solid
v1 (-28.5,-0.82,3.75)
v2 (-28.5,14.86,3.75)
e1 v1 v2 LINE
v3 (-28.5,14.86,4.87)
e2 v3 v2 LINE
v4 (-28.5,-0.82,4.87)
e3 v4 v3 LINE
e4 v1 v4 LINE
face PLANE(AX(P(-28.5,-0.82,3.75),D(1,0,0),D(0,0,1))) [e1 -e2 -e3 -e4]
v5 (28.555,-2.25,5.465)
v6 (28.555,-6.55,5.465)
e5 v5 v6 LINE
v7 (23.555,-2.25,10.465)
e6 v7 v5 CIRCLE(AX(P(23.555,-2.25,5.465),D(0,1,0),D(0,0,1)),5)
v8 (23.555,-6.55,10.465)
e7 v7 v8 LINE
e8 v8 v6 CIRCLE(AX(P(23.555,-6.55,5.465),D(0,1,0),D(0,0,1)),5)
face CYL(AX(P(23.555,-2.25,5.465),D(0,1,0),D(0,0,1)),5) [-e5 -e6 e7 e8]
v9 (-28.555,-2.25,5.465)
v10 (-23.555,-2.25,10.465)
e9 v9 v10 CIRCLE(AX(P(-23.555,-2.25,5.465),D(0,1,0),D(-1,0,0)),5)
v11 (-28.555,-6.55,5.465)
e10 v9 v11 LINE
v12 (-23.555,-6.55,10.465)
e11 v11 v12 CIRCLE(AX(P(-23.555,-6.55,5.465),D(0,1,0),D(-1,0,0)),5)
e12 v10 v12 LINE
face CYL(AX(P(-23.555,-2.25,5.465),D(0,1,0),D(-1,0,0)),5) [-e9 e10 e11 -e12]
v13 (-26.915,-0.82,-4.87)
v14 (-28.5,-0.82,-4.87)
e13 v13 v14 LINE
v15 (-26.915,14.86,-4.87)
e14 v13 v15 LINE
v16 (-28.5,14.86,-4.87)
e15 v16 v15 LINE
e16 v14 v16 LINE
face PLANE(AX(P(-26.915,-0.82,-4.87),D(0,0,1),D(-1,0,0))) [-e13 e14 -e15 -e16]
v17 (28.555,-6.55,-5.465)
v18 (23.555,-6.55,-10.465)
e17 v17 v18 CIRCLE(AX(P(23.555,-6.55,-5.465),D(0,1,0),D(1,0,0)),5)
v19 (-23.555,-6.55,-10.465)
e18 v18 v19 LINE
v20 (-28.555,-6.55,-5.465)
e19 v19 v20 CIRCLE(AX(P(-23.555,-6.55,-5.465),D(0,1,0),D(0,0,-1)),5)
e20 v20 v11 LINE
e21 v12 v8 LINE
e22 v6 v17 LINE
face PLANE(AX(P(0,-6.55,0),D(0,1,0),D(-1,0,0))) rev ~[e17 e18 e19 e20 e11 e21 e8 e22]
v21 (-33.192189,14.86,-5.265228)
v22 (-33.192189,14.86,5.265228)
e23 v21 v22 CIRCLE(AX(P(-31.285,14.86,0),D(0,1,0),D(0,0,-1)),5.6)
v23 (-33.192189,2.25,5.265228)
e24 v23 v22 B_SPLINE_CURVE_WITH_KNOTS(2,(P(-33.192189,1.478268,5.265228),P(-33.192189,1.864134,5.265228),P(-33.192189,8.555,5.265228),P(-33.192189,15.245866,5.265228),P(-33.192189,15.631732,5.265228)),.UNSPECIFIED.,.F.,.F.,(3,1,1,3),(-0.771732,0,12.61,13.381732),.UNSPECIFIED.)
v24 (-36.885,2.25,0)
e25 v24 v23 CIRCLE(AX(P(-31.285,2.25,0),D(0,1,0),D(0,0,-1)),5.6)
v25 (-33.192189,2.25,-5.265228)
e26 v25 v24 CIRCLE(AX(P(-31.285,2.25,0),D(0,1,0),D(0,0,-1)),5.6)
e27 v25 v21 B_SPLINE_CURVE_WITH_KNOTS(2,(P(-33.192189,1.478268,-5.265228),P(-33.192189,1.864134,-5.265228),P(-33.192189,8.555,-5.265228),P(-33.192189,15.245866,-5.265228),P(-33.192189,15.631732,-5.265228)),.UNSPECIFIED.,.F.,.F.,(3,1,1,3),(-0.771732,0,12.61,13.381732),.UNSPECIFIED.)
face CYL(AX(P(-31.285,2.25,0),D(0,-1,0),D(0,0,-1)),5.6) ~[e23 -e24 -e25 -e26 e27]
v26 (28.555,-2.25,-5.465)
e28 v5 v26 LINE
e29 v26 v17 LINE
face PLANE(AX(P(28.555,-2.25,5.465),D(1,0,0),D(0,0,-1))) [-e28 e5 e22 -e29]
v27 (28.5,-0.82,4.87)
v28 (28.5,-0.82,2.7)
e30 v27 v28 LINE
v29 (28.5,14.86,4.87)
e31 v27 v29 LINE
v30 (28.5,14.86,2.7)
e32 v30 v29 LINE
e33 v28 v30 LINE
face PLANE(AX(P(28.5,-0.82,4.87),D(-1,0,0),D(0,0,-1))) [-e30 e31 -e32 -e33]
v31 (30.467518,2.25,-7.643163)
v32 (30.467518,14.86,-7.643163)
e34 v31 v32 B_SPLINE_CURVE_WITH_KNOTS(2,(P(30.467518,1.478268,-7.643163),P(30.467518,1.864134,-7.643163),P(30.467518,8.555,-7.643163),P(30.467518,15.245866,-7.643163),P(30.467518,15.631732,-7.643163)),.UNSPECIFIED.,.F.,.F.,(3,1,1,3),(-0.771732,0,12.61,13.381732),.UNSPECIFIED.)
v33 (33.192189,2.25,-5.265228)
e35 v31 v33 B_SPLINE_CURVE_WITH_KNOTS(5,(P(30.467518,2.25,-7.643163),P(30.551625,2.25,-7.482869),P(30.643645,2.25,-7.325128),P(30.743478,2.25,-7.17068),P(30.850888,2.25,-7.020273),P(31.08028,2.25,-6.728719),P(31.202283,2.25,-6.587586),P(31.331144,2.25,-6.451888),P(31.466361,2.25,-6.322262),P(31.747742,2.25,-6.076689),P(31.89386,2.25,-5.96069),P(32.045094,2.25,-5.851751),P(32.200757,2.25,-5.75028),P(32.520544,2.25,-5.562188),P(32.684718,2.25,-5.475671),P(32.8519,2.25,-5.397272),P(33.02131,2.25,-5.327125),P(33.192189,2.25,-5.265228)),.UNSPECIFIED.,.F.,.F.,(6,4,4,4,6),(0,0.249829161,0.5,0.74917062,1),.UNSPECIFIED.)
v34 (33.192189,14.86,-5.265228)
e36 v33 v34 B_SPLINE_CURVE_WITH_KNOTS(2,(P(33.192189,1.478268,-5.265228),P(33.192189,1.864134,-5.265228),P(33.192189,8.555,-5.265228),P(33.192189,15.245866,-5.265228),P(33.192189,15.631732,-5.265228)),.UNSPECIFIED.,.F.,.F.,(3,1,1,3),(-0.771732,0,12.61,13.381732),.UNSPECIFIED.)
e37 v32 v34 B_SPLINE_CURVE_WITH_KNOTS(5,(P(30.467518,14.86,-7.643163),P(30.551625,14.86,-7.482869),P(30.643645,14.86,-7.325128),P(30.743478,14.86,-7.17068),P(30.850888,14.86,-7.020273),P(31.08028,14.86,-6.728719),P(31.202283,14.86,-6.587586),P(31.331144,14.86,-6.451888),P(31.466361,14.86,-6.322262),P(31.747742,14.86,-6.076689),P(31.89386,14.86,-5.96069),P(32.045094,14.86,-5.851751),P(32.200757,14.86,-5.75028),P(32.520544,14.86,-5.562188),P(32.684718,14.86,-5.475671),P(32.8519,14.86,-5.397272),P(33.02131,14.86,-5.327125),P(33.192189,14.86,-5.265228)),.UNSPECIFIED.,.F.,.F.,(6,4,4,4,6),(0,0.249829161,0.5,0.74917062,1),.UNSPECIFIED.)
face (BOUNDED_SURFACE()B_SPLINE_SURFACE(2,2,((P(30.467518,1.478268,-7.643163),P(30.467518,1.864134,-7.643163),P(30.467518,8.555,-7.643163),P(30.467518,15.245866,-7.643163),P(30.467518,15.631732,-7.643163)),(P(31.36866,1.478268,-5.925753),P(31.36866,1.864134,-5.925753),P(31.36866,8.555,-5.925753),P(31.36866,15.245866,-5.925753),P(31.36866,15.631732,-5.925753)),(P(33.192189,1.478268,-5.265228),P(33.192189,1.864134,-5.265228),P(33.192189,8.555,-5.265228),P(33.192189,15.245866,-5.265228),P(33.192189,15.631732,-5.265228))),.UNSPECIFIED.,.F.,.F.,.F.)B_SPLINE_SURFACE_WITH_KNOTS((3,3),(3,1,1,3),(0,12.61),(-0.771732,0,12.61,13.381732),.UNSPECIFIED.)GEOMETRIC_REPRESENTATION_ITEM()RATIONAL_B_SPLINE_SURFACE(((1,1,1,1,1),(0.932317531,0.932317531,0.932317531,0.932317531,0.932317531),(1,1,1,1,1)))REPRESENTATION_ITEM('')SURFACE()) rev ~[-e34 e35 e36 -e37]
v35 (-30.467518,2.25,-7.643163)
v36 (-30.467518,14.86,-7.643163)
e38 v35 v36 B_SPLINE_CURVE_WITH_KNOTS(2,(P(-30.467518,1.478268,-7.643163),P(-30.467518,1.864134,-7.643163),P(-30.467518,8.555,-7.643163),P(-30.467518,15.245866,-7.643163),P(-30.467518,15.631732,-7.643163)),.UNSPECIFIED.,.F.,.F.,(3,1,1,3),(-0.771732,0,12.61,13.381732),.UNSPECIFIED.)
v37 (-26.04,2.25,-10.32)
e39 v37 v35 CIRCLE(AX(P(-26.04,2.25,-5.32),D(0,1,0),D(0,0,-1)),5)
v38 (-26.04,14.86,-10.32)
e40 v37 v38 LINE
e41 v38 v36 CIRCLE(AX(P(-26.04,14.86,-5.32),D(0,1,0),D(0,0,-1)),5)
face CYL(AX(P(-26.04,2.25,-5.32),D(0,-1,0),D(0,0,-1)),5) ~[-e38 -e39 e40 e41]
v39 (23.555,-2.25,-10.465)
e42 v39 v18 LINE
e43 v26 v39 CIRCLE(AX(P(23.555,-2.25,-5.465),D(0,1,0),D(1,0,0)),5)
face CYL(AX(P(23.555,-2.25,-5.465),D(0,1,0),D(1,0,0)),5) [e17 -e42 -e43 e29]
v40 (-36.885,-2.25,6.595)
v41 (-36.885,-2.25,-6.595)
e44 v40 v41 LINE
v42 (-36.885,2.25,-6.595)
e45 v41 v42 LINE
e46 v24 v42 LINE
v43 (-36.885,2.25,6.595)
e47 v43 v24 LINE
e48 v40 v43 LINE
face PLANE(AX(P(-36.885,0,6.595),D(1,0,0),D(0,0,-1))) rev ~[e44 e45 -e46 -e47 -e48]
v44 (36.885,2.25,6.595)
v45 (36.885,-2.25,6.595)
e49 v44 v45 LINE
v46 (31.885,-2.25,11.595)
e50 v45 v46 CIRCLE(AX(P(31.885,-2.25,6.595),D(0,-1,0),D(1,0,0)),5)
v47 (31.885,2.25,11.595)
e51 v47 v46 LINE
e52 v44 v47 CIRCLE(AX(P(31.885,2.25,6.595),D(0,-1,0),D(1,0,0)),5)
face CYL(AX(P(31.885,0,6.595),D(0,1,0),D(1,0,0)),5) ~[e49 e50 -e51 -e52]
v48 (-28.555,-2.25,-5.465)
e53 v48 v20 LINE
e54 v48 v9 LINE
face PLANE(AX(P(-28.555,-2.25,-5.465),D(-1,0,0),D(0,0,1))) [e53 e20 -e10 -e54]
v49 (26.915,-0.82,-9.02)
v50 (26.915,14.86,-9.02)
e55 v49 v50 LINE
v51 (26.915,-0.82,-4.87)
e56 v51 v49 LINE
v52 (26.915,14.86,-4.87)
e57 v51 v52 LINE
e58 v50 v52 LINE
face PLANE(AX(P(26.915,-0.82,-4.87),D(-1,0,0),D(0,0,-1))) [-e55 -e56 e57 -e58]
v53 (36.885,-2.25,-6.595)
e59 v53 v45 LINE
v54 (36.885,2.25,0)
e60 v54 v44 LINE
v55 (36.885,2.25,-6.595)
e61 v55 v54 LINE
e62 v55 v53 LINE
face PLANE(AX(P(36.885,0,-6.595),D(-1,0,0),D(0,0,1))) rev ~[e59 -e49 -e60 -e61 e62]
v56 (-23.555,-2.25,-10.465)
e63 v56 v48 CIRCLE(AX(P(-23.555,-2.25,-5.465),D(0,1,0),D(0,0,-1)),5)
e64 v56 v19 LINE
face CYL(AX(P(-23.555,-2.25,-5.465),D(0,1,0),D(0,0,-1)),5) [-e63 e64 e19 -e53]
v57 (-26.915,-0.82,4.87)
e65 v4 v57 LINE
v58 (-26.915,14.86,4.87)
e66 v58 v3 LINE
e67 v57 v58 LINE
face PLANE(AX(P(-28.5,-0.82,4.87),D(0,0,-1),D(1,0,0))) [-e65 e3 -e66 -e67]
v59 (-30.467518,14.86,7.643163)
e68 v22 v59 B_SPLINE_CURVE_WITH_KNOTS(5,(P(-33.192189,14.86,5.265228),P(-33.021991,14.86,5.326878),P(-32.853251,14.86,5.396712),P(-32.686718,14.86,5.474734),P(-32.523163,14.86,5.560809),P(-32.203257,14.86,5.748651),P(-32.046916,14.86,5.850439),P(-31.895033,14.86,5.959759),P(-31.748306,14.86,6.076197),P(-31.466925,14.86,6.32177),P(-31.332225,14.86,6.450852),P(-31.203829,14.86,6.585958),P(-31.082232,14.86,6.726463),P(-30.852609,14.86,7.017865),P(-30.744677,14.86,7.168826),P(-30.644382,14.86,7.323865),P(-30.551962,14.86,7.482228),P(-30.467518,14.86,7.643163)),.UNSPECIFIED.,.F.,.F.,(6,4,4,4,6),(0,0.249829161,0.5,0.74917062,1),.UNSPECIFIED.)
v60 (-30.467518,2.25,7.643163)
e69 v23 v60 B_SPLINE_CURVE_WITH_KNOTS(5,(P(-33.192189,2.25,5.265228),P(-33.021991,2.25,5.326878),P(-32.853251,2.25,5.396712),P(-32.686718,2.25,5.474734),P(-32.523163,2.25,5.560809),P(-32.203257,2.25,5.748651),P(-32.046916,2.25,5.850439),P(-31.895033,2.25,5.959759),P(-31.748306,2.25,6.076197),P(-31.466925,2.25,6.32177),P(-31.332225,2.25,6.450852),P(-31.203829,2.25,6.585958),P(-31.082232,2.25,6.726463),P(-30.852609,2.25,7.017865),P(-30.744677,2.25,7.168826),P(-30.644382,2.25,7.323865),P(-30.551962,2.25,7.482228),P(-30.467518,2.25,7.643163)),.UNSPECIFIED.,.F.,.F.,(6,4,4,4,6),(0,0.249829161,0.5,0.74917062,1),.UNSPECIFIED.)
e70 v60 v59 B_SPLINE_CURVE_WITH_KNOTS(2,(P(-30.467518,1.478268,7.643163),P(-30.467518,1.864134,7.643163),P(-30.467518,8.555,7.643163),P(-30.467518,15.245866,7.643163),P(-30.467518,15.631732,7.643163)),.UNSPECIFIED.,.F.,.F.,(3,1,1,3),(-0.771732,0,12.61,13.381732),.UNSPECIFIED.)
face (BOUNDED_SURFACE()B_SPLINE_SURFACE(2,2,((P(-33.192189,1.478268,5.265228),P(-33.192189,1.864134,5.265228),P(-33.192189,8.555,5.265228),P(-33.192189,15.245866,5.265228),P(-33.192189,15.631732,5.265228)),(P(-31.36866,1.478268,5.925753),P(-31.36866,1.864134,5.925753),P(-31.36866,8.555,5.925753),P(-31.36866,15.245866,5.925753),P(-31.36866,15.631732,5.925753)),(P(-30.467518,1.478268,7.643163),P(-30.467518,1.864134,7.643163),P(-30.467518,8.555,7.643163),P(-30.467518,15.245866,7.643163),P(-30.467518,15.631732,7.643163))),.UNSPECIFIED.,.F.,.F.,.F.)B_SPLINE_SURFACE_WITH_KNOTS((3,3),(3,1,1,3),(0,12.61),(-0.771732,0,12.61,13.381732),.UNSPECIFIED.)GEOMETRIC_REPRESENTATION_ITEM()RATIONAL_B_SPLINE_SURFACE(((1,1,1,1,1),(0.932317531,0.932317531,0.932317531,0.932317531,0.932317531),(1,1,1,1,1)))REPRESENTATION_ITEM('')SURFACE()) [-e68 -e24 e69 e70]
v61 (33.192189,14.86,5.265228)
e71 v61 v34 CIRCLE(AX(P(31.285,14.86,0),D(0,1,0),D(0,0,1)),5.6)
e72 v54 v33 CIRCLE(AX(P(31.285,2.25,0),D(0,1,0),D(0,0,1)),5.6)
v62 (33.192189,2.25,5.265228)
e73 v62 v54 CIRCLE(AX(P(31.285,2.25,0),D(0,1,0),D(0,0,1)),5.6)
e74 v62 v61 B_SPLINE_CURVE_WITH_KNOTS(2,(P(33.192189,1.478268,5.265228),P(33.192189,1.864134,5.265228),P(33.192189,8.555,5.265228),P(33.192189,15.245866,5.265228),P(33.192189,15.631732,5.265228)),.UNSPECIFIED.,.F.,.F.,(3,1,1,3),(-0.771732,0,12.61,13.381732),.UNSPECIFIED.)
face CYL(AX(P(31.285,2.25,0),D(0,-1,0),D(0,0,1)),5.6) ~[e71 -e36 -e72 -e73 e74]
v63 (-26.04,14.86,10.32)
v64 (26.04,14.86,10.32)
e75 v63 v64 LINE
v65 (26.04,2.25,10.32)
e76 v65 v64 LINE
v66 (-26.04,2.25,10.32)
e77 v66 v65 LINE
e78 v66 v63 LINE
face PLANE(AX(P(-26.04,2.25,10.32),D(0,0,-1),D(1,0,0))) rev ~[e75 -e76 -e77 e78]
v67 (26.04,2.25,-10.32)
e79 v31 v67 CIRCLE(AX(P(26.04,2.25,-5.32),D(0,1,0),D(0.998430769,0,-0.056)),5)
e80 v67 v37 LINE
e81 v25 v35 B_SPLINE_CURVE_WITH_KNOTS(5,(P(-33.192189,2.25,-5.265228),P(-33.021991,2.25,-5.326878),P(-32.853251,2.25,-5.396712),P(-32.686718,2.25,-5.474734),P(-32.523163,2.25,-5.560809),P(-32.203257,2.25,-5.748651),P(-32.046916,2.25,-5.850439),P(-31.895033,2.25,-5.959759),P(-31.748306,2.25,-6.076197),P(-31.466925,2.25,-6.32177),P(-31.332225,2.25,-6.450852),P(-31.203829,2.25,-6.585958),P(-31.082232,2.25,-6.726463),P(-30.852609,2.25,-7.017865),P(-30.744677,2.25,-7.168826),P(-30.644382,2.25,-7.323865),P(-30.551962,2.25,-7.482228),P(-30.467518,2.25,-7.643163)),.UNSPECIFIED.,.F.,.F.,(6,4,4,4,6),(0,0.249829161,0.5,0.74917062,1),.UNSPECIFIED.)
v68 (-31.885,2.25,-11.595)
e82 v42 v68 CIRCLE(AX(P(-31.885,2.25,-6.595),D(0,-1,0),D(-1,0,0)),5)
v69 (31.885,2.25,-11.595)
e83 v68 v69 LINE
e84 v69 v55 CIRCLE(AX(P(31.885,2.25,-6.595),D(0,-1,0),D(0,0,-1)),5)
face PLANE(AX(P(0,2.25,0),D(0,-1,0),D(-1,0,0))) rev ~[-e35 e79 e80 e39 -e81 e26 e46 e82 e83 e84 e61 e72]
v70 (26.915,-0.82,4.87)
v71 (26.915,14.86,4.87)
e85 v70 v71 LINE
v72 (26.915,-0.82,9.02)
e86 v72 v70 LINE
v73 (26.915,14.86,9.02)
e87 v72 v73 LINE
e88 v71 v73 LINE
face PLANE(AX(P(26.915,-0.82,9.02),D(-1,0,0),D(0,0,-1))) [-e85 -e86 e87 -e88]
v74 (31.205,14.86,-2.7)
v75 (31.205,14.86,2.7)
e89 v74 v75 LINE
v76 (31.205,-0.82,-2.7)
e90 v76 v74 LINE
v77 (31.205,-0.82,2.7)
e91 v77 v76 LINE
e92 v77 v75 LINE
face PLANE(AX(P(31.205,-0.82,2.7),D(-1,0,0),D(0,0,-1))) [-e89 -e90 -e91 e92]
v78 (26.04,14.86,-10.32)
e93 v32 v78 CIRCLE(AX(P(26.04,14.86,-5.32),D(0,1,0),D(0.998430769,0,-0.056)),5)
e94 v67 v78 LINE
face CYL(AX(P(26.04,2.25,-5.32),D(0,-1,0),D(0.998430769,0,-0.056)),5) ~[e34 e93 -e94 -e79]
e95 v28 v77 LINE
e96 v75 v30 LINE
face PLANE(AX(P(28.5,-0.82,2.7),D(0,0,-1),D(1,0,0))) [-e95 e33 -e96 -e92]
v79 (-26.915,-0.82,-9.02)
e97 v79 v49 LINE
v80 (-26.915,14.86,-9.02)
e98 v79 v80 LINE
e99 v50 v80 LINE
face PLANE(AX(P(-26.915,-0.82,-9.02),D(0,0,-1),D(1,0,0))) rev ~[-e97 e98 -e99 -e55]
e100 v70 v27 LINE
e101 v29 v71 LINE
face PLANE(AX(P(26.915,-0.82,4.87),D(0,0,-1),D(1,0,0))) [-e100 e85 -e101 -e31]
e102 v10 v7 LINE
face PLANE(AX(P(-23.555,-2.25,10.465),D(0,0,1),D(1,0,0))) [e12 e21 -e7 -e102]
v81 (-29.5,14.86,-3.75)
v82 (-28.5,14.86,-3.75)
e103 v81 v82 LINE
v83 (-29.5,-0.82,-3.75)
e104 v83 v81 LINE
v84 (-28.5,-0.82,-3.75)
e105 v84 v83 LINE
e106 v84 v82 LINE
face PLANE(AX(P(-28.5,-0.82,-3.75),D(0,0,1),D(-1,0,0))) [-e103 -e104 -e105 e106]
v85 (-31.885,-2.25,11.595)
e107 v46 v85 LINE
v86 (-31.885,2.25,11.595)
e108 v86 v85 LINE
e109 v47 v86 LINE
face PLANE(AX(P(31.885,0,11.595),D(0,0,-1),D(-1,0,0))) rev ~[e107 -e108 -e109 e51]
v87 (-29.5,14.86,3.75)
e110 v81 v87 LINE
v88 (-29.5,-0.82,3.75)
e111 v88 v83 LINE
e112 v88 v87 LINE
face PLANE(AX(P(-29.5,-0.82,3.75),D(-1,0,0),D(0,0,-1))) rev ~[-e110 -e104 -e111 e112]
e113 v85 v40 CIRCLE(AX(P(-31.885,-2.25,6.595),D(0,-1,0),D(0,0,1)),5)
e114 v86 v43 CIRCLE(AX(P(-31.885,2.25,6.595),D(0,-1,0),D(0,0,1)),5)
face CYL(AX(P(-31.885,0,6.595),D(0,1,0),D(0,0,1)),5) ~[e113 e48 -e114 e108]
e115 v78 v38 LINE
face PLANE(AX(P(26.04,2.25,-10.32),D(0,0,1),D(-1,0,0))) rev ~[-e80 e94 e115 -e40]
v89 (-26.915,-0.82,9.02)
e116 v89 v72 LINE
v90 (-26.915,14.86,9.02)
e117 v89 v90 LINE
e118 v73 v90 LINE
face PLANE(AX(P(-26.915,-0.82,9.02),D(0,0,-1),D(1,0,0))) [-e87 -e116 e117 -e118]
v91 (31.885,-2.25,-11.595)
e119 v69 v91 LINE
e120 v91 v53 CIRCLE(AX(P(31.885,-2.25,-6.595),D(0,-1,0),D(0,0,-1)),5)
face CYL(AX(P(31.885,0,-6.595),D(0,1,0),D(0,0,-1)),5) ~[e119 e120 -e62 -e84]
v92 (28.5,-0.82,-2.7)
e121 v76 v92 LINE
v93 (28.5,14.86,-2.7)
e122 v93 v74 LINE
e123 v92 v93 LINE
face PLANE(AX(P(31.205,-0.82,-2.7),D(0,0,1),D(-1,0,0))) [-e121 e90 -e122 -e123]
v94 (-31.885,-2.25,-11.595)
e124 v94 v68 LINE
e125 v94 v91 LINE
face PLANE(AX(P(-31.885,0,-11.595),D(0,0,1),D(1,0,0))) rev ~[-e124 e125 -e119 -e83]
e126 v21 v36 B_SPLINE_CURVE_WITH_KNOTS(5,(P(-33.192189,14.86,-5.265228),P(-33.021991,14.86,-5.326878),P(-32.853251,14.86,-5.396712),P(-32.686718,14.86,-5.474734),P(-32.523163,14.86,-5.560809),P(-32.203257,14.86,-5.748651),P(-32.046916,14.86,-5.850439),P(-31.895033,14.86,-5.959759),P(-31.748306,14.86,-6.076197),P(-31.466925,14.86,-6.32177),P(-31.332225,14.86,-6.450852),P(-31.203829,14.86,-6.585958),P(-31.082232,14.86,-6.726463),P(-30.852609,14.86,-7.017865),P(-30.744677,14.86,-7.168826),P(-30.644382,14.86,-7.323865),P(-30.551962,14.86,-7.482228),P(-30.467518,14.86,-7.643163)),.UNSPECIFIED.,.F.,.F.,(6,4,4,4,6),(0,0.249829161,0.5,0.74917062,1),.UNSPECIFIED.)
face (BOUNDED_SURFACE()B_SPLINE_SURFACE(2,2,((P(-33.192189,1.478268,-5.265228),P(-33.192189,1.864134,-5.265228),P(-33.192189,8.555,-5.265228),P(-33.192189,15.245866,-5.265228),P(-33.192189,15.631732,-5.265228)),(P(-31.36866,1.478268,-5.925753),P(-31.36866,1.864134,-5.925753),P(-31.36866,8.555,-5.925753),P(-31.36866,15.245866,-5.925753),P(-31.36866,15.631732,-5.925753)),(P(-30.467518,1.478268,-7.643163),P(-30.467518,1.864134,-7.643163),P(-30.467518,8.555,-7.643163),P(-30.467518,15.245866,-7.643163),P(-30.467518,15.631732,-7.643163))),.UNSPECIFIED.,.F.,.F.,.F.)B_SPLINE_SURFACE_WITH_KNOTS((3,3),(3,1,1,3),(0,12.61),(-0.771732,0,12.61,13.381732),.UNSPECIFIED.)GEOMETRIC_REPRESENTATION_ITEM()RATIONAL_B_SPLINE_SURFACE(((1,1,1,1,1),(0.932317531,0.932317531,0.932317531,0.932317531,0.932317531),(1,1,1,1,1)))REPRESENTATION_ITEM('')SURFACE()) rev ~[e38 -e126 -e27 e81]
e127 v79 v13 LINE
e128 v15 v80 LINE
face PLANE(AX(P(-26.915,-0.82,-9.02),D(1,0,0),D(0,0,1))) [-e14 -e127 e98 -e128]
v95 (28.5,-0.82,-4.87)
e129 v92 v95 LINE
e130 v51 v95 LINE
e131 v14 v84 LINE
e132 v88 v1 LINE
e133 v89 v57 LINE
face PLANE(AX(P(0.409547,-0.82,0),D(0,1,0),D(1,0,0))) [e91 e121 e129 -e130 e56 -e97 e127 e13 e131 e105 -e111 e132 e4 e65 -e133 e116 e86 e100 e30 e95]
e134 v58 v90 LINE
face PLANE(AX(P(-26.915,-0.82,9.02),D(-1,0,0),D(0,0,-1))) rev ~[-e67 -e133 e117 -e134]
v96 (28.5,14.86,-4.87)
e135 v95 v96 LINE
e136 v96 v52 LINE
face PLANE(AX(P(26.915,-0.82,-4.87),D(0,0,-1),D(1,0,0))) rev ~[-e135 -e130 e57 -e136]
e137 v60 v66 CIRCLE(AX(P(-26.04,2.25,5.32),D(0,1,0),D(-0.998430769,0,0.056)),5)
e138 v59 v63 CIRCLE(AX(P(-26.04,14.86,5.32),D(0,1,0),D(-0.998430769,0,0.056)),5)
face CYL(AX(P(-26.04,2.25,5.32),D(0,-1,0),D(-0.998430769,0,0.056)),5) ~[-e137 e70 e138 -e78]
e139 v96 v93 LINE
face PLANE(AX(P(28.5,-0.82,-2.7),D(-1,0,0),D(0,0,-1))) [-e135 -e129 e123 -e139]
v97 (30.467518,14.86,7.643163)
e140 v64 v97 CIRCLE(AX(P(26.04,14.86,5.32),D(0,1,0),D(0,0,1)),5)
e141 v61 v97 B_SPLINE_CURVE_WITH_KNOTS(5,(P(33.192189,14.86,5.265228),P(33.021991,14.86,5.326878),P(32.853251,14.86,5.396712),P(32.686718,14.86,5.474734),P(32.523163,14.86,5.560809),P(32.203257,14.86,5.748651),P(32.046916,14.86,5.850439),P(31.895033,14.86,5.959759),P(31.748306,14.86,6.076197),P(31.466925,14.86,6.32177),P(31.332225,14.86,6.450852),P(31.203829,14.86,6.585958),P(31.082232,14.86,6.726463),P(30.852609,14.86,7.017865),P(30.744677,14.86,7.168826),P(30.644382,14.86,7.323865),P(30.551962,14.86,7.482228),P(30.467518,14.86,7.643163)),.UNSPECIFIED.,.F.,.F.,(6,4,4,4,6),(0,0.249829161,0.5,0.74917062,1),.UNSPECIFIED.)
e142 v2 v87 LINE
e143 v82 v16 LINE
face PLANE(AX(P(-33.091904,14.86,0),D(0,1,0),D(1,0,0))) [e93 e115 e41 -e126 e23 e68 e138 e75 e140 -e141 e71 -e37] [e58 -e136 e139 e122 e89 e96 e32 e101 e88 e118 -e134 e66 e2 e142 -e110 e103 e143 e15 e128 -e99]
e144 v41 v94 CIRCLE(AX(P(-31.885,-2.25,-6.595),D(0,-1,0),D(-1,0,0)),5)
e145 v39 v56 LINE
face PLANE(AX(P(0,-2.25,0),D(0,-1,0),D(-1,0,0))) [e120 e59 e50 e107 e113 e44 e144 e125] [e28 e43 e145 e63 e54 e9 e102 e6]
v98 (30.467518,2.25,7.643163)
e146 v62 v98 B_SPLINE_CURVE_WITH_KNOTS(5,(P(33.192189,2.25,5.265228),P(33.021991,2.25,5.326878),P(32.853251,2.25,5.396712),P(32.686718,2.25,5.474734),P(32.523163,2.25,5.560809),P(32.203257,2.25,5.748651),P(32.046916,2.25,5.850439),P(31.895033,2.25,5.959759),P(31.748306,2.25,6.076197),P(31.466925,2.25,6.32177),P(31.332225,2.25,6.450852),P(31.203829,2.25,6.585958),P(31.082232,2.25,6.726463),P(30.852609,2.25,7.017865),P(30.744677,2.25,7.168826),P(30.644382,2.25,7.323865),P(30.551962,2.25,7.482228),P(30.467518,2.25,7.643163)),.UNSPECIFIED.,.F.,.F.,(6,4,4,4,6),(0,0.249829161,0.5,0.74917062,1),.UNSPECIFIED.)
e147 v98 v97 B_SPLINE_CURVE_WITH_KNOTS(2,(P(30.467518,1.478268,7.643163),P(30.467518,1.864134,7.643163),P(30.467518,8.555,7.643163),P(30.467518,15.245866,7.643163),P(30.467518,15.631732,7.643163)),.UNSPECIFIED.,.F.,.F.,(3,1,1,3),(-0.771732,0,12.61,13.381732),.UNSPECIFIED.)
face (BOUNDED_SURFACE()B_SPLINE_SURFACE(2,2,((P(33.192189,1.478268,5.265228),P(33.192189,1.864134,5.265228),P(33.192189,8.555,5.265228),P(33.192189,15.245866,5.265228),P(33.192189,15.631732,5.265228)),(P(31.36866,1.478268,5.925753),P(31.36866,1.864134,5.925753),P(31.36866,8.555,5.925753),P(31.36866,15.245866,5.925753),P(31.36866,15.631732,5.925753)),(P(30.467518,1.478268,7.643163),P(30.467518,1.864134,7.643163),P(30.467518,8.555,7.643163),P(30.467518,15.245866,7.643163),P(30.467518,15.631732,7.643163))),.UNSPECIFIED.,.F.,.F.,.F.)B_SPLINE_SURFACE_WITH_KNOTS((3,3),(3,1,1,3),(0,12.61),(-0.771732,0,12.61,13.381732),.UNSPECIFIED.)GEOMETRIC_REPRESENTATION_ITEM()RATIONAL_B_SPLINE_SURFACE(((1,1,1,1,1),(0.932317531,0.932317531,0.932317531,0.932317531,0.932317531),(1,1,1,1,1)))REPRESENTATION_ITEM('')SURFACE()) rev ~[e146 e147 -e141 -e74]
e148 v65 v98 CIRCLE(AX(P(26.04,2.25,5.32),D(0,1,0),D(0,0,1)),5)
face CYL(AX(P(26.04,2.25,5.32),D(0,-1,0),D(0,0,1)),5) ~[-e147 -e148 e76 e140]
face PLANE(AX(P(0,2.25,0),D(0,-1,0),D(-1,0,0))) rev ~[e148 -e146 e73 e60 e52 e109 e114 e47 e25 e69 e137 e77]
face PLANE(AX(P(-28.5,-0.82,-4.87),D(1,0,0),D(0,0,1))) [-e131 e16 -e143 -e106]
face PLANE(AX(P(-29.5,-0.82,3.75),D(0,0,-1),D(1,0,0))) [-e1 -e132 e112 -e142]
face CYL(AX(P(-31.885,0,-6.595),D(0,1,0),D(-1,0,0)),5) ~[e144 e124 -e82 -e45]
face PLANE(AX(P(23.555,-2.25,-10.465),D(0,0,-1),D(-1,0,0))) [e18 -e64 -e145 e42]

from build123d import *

# Parameters (mm, degrees)
EXTRUDE_1_DEPTH          = 2.25
EXTRUDE_2_DEPTH          = 12.61
FILLET_1_R               = 5
EXTRUDE_3_DEPTH          = 4.3
CUT_EXTRUDE_1_DEPTH      = 45.196553708
CUT_EXTRUDE_1_DEPTH_BACK = 15.68
SKETCH_4_W               = 53.83
SKETCH_4_H               = 4.15
SKETCH_4_W_2             = 1
SKETCH_4_H_2             = 7.5
SKETCH_4_W_3             = 1.585
SKETCH_4_H_3             = 5.4
SKETCH_4_W_4             = 2.705
SKETCH_4_W_5             = 1.12
SKETCH_4_H_4             = 2.17


with BuildPart() as part:
    # Эскиз1 → Бобышка-Вытянуть1 (new, symmetric)
    with BuildSketch(Plane(origin=(0, 0, 0), x_dir=(1, 0, 0), z_dir=(0, 1, 0))):
        with BuildLine():
            Line((-31.885, 11.595), (31.885, 11.595))
            ThreePointArc((31.885, 11.595), (35.420533906, 10.130533906), (36.885, 6.595))
            Line((36.885, 6.595), (36.885, -6.595))
            ThreePointArc((36.885, -6.595), (35.420533906, -10.130533906), (31.885, -11.595))
            Line((31.885, -11.595), (-31.885, -11.595))
            ThreePointArc((-31.885, -11.595), (-35.420533906, -10.130533906), (-36.885, -6.595))
            Line((-36.885, -6.595), (-36.885, 6.595))
            ThreePointArc((-36.885, 6.595), (-35.420533906, 10.130533906), (-31.885, 11.595))
        make_face()
    extrude(amount=EXTRUDE_1_DEPTH, both=True)

    # Эскиз2 → Бобышка-Вытянуть2 (add)
    with BuildSketch(Plane(origin=(0, 2.25, 0), x_dir=(1, 0, 0), z_dir=(0, 1, 0))):
        with BuildLine():
            ThreePointArc((-31.04, 5.32), (-31.038038076, 5.460054955), (-31.032153844, 5.6))
            Line((-31.032153844, 5.6), (-31.285, 5.6))
            ThreePointArc((-31.285, 5.6), (-36.885, 0), (-31.285, -5.6))
            Line((-31.285, -5.6), (-31.032153844, -5.6))
            ThreePointArc((-31.032153844, -5.6), (-31.038038076, -5.460054955), (-31.04, -5.32))
            Line((-31.04, -5.32), (-31.04, 5.32))
        make_face()
        with BuildLine():
            Line((31.032153844, -5.6), (-31.032153844, -5.6))
            ThreePointArc((-31.032153844, -5.6), (-29.475112807, -8.953180425), (-26.04, -10.32))
            Line((-26.04, -10.32), (26.04, -10.32))
            ThreePointArc((26.04, -10.32), (29.475112807, -8.953180425), (31.032153844, -5.6))
        make_face()
        with BuildLine():
            Line((31.032153844, 5.6), (-31.032153844, 5.6))
            ThreePointArc((-31.032153844, 5.6), (-31.038038076, 5.460054955), (-31.04, 5.32))
            Line((-31.04, 5.32), (-31.04, -5.32))
            ThreePointArc((-31.04, -5.32), (-31.038038076, -5.460054955), (-31.032153844, -5.6))
            Line((-31.032153844, -5.6), (31.032153844, -5.6))
            ThreePointArc((31.032153844, -5.6), (31.038038076, -5.460054955), (31.04, -5.32))
            Line((31.04, -5.32), (31.04, 5.32))
            ThreePointArc((31.04, 5.32), (31.038038076, 5.460054955), (31.032153844, 5.6))
        make_face()
        with BuildLine():
            Line((26.04, 10.32), (-26.04, 10.32))
            ThreePointArc((-26.04, 10.32), (-29.475112807, 8.953180425), (-31.032153844, 5.6))
            Line((-31.032153844, 5.6), (31.032153844, 5.6))
            ThreePointArc((31.032153844, 5.6), (29.475112807, 8.953180425), (26.04, 10.32))
        make_face()
        with BuildLine():
            Line((31.285, 5.6), (31.032153844, 5.6))
            ThreePointArc((31.032153844, 5.6), (31.038038076, 5.460054955), (31.04, 5.32))
            Line((31.04, 5.32), (31.04, -5.32))
            ThreePointArc((31.04, -5.32), (31.038038076, -5.460054955), (31.032153844, -5.6))
            Line((31.032153844, -5.6), (31.285, -5.6))
            ThreePointArc((31.285, -5.6), (36.885, 0), (31.285, 5.6))
        make_face()
    extrude(amount=EXTRUDE_2_DEPTH)

    # Скругление1
    fillet_1_edges = [part.edges().sort_by_distance(p)[0] for p in [
        (-31.032153844, 8.555, 5.6),
        (-31.032153844, 8.555, -5.6),
        (31.032153844, 8.555, -5.6),
        (31.032153844, 8.555, 5.6),
    ]]
    fillet(fillet_1_edges, radius=FILLET_1_R)

    # Эскиз3 → Бобышка-Вытянуть3 (add)
    with BuildSketch(Plane.XZ.offset(2.25)):
        with BuildLine():
            Line((-23.555, 10.465), (23.555, 10.465))
            ThreePointArc((23.555, 10.465), (27.090533906, 9.000533906), (28.555, 5.465))
            Line((28.555, 5.465), (28.555, -5.465))
            ThreePointArc((28.555, -5.465), (27.090533906, -9.000533906), (23.555, -10.465))
            Line((23.555, -10.465), (-23.555, -10.465))
            ThreePointArc((-23.555, -10.465), (-27.090533906, -9.000533906), (-28.555, -5.465))
            Line((-28.555, -5.465), (-28.555, 5.465))
            ThreePointArc((-28.555, 5.465), (-27.090533906, 9.000533906), (-23.555, 10.465))
        make_face()
    extrude(amount=EXTRUDE_3_DEPTH)

    # Эскиз4 → Вырез-Вытянуть1 (cut, two sides: drawn at the far end of the back side and taken through both)
    with BuildSketch(Plane(origin=(0, 14.86, 0), x_dir=(1, 0, 0), z_dir=(0, 1, 0)).offset(-CUT_EXTRUDE_1_DEPTH_BACK)):
        Polygon((26.915, 4.87), (-26.915, 4.87), (-26.915, -4.87), (26.915, -4.87), (26.915, -2.7), (25.795, -2.7), (25.795, 2.7), (26.915, 2.7), align=None)
        with Locations((0, 6.945)):
            Rectangle(SKETCH_4_W, SKETCH_4_H)
        with Locations((-29, 0)):
            Rectangle(SKETCH_4_W_2, SKETCH_4_H_2)
        with Locations((-28, 0)):
            Rectangle(SKETCH_4_W_2, SKETCH_4_H_2)
        Polygon((-26.915, -4.87), (-26.915, 4.87), (-28.5, 4.87), (-28.5, 3.75), (-27.5, 3.75), (-27.5, -3.75), (-28.5, -3.75), (-28.5, -4.87), align=None)
        with Locations((0, -6.945)):
            Rectangle(SKETCH_4_W, SKETCH_4_H)
        with Locations((27.7075, 0)):
            Rectangle(SKETCH_4_W_3, SKETCH_4_H_3)
        with Locations((29.8525, 0)):
            Rectangle(SKETCH_4_W_4, SKETCH_4_H_3)
        with Locations((26.355, 0)):
            Rectangle(SKETCH_4_W_5, SKETCH_4_H_3)
        with Locations((27.7075, -3.785)):
            Rectangle(SKETCH_4_W_3, SKETCH_4_H_4)
        with Locations((27.7075, 3.785)):
            Rectangle(SKETCH_4_W_3, SKETCH_4_H_4)
    extrude(amount=CUT_EXTRUDE_1_DEPTH + CUT_EXTRUDE_1_DEPTH_BACK, mode=Mode.SUBTRACT)


solid = part.part
